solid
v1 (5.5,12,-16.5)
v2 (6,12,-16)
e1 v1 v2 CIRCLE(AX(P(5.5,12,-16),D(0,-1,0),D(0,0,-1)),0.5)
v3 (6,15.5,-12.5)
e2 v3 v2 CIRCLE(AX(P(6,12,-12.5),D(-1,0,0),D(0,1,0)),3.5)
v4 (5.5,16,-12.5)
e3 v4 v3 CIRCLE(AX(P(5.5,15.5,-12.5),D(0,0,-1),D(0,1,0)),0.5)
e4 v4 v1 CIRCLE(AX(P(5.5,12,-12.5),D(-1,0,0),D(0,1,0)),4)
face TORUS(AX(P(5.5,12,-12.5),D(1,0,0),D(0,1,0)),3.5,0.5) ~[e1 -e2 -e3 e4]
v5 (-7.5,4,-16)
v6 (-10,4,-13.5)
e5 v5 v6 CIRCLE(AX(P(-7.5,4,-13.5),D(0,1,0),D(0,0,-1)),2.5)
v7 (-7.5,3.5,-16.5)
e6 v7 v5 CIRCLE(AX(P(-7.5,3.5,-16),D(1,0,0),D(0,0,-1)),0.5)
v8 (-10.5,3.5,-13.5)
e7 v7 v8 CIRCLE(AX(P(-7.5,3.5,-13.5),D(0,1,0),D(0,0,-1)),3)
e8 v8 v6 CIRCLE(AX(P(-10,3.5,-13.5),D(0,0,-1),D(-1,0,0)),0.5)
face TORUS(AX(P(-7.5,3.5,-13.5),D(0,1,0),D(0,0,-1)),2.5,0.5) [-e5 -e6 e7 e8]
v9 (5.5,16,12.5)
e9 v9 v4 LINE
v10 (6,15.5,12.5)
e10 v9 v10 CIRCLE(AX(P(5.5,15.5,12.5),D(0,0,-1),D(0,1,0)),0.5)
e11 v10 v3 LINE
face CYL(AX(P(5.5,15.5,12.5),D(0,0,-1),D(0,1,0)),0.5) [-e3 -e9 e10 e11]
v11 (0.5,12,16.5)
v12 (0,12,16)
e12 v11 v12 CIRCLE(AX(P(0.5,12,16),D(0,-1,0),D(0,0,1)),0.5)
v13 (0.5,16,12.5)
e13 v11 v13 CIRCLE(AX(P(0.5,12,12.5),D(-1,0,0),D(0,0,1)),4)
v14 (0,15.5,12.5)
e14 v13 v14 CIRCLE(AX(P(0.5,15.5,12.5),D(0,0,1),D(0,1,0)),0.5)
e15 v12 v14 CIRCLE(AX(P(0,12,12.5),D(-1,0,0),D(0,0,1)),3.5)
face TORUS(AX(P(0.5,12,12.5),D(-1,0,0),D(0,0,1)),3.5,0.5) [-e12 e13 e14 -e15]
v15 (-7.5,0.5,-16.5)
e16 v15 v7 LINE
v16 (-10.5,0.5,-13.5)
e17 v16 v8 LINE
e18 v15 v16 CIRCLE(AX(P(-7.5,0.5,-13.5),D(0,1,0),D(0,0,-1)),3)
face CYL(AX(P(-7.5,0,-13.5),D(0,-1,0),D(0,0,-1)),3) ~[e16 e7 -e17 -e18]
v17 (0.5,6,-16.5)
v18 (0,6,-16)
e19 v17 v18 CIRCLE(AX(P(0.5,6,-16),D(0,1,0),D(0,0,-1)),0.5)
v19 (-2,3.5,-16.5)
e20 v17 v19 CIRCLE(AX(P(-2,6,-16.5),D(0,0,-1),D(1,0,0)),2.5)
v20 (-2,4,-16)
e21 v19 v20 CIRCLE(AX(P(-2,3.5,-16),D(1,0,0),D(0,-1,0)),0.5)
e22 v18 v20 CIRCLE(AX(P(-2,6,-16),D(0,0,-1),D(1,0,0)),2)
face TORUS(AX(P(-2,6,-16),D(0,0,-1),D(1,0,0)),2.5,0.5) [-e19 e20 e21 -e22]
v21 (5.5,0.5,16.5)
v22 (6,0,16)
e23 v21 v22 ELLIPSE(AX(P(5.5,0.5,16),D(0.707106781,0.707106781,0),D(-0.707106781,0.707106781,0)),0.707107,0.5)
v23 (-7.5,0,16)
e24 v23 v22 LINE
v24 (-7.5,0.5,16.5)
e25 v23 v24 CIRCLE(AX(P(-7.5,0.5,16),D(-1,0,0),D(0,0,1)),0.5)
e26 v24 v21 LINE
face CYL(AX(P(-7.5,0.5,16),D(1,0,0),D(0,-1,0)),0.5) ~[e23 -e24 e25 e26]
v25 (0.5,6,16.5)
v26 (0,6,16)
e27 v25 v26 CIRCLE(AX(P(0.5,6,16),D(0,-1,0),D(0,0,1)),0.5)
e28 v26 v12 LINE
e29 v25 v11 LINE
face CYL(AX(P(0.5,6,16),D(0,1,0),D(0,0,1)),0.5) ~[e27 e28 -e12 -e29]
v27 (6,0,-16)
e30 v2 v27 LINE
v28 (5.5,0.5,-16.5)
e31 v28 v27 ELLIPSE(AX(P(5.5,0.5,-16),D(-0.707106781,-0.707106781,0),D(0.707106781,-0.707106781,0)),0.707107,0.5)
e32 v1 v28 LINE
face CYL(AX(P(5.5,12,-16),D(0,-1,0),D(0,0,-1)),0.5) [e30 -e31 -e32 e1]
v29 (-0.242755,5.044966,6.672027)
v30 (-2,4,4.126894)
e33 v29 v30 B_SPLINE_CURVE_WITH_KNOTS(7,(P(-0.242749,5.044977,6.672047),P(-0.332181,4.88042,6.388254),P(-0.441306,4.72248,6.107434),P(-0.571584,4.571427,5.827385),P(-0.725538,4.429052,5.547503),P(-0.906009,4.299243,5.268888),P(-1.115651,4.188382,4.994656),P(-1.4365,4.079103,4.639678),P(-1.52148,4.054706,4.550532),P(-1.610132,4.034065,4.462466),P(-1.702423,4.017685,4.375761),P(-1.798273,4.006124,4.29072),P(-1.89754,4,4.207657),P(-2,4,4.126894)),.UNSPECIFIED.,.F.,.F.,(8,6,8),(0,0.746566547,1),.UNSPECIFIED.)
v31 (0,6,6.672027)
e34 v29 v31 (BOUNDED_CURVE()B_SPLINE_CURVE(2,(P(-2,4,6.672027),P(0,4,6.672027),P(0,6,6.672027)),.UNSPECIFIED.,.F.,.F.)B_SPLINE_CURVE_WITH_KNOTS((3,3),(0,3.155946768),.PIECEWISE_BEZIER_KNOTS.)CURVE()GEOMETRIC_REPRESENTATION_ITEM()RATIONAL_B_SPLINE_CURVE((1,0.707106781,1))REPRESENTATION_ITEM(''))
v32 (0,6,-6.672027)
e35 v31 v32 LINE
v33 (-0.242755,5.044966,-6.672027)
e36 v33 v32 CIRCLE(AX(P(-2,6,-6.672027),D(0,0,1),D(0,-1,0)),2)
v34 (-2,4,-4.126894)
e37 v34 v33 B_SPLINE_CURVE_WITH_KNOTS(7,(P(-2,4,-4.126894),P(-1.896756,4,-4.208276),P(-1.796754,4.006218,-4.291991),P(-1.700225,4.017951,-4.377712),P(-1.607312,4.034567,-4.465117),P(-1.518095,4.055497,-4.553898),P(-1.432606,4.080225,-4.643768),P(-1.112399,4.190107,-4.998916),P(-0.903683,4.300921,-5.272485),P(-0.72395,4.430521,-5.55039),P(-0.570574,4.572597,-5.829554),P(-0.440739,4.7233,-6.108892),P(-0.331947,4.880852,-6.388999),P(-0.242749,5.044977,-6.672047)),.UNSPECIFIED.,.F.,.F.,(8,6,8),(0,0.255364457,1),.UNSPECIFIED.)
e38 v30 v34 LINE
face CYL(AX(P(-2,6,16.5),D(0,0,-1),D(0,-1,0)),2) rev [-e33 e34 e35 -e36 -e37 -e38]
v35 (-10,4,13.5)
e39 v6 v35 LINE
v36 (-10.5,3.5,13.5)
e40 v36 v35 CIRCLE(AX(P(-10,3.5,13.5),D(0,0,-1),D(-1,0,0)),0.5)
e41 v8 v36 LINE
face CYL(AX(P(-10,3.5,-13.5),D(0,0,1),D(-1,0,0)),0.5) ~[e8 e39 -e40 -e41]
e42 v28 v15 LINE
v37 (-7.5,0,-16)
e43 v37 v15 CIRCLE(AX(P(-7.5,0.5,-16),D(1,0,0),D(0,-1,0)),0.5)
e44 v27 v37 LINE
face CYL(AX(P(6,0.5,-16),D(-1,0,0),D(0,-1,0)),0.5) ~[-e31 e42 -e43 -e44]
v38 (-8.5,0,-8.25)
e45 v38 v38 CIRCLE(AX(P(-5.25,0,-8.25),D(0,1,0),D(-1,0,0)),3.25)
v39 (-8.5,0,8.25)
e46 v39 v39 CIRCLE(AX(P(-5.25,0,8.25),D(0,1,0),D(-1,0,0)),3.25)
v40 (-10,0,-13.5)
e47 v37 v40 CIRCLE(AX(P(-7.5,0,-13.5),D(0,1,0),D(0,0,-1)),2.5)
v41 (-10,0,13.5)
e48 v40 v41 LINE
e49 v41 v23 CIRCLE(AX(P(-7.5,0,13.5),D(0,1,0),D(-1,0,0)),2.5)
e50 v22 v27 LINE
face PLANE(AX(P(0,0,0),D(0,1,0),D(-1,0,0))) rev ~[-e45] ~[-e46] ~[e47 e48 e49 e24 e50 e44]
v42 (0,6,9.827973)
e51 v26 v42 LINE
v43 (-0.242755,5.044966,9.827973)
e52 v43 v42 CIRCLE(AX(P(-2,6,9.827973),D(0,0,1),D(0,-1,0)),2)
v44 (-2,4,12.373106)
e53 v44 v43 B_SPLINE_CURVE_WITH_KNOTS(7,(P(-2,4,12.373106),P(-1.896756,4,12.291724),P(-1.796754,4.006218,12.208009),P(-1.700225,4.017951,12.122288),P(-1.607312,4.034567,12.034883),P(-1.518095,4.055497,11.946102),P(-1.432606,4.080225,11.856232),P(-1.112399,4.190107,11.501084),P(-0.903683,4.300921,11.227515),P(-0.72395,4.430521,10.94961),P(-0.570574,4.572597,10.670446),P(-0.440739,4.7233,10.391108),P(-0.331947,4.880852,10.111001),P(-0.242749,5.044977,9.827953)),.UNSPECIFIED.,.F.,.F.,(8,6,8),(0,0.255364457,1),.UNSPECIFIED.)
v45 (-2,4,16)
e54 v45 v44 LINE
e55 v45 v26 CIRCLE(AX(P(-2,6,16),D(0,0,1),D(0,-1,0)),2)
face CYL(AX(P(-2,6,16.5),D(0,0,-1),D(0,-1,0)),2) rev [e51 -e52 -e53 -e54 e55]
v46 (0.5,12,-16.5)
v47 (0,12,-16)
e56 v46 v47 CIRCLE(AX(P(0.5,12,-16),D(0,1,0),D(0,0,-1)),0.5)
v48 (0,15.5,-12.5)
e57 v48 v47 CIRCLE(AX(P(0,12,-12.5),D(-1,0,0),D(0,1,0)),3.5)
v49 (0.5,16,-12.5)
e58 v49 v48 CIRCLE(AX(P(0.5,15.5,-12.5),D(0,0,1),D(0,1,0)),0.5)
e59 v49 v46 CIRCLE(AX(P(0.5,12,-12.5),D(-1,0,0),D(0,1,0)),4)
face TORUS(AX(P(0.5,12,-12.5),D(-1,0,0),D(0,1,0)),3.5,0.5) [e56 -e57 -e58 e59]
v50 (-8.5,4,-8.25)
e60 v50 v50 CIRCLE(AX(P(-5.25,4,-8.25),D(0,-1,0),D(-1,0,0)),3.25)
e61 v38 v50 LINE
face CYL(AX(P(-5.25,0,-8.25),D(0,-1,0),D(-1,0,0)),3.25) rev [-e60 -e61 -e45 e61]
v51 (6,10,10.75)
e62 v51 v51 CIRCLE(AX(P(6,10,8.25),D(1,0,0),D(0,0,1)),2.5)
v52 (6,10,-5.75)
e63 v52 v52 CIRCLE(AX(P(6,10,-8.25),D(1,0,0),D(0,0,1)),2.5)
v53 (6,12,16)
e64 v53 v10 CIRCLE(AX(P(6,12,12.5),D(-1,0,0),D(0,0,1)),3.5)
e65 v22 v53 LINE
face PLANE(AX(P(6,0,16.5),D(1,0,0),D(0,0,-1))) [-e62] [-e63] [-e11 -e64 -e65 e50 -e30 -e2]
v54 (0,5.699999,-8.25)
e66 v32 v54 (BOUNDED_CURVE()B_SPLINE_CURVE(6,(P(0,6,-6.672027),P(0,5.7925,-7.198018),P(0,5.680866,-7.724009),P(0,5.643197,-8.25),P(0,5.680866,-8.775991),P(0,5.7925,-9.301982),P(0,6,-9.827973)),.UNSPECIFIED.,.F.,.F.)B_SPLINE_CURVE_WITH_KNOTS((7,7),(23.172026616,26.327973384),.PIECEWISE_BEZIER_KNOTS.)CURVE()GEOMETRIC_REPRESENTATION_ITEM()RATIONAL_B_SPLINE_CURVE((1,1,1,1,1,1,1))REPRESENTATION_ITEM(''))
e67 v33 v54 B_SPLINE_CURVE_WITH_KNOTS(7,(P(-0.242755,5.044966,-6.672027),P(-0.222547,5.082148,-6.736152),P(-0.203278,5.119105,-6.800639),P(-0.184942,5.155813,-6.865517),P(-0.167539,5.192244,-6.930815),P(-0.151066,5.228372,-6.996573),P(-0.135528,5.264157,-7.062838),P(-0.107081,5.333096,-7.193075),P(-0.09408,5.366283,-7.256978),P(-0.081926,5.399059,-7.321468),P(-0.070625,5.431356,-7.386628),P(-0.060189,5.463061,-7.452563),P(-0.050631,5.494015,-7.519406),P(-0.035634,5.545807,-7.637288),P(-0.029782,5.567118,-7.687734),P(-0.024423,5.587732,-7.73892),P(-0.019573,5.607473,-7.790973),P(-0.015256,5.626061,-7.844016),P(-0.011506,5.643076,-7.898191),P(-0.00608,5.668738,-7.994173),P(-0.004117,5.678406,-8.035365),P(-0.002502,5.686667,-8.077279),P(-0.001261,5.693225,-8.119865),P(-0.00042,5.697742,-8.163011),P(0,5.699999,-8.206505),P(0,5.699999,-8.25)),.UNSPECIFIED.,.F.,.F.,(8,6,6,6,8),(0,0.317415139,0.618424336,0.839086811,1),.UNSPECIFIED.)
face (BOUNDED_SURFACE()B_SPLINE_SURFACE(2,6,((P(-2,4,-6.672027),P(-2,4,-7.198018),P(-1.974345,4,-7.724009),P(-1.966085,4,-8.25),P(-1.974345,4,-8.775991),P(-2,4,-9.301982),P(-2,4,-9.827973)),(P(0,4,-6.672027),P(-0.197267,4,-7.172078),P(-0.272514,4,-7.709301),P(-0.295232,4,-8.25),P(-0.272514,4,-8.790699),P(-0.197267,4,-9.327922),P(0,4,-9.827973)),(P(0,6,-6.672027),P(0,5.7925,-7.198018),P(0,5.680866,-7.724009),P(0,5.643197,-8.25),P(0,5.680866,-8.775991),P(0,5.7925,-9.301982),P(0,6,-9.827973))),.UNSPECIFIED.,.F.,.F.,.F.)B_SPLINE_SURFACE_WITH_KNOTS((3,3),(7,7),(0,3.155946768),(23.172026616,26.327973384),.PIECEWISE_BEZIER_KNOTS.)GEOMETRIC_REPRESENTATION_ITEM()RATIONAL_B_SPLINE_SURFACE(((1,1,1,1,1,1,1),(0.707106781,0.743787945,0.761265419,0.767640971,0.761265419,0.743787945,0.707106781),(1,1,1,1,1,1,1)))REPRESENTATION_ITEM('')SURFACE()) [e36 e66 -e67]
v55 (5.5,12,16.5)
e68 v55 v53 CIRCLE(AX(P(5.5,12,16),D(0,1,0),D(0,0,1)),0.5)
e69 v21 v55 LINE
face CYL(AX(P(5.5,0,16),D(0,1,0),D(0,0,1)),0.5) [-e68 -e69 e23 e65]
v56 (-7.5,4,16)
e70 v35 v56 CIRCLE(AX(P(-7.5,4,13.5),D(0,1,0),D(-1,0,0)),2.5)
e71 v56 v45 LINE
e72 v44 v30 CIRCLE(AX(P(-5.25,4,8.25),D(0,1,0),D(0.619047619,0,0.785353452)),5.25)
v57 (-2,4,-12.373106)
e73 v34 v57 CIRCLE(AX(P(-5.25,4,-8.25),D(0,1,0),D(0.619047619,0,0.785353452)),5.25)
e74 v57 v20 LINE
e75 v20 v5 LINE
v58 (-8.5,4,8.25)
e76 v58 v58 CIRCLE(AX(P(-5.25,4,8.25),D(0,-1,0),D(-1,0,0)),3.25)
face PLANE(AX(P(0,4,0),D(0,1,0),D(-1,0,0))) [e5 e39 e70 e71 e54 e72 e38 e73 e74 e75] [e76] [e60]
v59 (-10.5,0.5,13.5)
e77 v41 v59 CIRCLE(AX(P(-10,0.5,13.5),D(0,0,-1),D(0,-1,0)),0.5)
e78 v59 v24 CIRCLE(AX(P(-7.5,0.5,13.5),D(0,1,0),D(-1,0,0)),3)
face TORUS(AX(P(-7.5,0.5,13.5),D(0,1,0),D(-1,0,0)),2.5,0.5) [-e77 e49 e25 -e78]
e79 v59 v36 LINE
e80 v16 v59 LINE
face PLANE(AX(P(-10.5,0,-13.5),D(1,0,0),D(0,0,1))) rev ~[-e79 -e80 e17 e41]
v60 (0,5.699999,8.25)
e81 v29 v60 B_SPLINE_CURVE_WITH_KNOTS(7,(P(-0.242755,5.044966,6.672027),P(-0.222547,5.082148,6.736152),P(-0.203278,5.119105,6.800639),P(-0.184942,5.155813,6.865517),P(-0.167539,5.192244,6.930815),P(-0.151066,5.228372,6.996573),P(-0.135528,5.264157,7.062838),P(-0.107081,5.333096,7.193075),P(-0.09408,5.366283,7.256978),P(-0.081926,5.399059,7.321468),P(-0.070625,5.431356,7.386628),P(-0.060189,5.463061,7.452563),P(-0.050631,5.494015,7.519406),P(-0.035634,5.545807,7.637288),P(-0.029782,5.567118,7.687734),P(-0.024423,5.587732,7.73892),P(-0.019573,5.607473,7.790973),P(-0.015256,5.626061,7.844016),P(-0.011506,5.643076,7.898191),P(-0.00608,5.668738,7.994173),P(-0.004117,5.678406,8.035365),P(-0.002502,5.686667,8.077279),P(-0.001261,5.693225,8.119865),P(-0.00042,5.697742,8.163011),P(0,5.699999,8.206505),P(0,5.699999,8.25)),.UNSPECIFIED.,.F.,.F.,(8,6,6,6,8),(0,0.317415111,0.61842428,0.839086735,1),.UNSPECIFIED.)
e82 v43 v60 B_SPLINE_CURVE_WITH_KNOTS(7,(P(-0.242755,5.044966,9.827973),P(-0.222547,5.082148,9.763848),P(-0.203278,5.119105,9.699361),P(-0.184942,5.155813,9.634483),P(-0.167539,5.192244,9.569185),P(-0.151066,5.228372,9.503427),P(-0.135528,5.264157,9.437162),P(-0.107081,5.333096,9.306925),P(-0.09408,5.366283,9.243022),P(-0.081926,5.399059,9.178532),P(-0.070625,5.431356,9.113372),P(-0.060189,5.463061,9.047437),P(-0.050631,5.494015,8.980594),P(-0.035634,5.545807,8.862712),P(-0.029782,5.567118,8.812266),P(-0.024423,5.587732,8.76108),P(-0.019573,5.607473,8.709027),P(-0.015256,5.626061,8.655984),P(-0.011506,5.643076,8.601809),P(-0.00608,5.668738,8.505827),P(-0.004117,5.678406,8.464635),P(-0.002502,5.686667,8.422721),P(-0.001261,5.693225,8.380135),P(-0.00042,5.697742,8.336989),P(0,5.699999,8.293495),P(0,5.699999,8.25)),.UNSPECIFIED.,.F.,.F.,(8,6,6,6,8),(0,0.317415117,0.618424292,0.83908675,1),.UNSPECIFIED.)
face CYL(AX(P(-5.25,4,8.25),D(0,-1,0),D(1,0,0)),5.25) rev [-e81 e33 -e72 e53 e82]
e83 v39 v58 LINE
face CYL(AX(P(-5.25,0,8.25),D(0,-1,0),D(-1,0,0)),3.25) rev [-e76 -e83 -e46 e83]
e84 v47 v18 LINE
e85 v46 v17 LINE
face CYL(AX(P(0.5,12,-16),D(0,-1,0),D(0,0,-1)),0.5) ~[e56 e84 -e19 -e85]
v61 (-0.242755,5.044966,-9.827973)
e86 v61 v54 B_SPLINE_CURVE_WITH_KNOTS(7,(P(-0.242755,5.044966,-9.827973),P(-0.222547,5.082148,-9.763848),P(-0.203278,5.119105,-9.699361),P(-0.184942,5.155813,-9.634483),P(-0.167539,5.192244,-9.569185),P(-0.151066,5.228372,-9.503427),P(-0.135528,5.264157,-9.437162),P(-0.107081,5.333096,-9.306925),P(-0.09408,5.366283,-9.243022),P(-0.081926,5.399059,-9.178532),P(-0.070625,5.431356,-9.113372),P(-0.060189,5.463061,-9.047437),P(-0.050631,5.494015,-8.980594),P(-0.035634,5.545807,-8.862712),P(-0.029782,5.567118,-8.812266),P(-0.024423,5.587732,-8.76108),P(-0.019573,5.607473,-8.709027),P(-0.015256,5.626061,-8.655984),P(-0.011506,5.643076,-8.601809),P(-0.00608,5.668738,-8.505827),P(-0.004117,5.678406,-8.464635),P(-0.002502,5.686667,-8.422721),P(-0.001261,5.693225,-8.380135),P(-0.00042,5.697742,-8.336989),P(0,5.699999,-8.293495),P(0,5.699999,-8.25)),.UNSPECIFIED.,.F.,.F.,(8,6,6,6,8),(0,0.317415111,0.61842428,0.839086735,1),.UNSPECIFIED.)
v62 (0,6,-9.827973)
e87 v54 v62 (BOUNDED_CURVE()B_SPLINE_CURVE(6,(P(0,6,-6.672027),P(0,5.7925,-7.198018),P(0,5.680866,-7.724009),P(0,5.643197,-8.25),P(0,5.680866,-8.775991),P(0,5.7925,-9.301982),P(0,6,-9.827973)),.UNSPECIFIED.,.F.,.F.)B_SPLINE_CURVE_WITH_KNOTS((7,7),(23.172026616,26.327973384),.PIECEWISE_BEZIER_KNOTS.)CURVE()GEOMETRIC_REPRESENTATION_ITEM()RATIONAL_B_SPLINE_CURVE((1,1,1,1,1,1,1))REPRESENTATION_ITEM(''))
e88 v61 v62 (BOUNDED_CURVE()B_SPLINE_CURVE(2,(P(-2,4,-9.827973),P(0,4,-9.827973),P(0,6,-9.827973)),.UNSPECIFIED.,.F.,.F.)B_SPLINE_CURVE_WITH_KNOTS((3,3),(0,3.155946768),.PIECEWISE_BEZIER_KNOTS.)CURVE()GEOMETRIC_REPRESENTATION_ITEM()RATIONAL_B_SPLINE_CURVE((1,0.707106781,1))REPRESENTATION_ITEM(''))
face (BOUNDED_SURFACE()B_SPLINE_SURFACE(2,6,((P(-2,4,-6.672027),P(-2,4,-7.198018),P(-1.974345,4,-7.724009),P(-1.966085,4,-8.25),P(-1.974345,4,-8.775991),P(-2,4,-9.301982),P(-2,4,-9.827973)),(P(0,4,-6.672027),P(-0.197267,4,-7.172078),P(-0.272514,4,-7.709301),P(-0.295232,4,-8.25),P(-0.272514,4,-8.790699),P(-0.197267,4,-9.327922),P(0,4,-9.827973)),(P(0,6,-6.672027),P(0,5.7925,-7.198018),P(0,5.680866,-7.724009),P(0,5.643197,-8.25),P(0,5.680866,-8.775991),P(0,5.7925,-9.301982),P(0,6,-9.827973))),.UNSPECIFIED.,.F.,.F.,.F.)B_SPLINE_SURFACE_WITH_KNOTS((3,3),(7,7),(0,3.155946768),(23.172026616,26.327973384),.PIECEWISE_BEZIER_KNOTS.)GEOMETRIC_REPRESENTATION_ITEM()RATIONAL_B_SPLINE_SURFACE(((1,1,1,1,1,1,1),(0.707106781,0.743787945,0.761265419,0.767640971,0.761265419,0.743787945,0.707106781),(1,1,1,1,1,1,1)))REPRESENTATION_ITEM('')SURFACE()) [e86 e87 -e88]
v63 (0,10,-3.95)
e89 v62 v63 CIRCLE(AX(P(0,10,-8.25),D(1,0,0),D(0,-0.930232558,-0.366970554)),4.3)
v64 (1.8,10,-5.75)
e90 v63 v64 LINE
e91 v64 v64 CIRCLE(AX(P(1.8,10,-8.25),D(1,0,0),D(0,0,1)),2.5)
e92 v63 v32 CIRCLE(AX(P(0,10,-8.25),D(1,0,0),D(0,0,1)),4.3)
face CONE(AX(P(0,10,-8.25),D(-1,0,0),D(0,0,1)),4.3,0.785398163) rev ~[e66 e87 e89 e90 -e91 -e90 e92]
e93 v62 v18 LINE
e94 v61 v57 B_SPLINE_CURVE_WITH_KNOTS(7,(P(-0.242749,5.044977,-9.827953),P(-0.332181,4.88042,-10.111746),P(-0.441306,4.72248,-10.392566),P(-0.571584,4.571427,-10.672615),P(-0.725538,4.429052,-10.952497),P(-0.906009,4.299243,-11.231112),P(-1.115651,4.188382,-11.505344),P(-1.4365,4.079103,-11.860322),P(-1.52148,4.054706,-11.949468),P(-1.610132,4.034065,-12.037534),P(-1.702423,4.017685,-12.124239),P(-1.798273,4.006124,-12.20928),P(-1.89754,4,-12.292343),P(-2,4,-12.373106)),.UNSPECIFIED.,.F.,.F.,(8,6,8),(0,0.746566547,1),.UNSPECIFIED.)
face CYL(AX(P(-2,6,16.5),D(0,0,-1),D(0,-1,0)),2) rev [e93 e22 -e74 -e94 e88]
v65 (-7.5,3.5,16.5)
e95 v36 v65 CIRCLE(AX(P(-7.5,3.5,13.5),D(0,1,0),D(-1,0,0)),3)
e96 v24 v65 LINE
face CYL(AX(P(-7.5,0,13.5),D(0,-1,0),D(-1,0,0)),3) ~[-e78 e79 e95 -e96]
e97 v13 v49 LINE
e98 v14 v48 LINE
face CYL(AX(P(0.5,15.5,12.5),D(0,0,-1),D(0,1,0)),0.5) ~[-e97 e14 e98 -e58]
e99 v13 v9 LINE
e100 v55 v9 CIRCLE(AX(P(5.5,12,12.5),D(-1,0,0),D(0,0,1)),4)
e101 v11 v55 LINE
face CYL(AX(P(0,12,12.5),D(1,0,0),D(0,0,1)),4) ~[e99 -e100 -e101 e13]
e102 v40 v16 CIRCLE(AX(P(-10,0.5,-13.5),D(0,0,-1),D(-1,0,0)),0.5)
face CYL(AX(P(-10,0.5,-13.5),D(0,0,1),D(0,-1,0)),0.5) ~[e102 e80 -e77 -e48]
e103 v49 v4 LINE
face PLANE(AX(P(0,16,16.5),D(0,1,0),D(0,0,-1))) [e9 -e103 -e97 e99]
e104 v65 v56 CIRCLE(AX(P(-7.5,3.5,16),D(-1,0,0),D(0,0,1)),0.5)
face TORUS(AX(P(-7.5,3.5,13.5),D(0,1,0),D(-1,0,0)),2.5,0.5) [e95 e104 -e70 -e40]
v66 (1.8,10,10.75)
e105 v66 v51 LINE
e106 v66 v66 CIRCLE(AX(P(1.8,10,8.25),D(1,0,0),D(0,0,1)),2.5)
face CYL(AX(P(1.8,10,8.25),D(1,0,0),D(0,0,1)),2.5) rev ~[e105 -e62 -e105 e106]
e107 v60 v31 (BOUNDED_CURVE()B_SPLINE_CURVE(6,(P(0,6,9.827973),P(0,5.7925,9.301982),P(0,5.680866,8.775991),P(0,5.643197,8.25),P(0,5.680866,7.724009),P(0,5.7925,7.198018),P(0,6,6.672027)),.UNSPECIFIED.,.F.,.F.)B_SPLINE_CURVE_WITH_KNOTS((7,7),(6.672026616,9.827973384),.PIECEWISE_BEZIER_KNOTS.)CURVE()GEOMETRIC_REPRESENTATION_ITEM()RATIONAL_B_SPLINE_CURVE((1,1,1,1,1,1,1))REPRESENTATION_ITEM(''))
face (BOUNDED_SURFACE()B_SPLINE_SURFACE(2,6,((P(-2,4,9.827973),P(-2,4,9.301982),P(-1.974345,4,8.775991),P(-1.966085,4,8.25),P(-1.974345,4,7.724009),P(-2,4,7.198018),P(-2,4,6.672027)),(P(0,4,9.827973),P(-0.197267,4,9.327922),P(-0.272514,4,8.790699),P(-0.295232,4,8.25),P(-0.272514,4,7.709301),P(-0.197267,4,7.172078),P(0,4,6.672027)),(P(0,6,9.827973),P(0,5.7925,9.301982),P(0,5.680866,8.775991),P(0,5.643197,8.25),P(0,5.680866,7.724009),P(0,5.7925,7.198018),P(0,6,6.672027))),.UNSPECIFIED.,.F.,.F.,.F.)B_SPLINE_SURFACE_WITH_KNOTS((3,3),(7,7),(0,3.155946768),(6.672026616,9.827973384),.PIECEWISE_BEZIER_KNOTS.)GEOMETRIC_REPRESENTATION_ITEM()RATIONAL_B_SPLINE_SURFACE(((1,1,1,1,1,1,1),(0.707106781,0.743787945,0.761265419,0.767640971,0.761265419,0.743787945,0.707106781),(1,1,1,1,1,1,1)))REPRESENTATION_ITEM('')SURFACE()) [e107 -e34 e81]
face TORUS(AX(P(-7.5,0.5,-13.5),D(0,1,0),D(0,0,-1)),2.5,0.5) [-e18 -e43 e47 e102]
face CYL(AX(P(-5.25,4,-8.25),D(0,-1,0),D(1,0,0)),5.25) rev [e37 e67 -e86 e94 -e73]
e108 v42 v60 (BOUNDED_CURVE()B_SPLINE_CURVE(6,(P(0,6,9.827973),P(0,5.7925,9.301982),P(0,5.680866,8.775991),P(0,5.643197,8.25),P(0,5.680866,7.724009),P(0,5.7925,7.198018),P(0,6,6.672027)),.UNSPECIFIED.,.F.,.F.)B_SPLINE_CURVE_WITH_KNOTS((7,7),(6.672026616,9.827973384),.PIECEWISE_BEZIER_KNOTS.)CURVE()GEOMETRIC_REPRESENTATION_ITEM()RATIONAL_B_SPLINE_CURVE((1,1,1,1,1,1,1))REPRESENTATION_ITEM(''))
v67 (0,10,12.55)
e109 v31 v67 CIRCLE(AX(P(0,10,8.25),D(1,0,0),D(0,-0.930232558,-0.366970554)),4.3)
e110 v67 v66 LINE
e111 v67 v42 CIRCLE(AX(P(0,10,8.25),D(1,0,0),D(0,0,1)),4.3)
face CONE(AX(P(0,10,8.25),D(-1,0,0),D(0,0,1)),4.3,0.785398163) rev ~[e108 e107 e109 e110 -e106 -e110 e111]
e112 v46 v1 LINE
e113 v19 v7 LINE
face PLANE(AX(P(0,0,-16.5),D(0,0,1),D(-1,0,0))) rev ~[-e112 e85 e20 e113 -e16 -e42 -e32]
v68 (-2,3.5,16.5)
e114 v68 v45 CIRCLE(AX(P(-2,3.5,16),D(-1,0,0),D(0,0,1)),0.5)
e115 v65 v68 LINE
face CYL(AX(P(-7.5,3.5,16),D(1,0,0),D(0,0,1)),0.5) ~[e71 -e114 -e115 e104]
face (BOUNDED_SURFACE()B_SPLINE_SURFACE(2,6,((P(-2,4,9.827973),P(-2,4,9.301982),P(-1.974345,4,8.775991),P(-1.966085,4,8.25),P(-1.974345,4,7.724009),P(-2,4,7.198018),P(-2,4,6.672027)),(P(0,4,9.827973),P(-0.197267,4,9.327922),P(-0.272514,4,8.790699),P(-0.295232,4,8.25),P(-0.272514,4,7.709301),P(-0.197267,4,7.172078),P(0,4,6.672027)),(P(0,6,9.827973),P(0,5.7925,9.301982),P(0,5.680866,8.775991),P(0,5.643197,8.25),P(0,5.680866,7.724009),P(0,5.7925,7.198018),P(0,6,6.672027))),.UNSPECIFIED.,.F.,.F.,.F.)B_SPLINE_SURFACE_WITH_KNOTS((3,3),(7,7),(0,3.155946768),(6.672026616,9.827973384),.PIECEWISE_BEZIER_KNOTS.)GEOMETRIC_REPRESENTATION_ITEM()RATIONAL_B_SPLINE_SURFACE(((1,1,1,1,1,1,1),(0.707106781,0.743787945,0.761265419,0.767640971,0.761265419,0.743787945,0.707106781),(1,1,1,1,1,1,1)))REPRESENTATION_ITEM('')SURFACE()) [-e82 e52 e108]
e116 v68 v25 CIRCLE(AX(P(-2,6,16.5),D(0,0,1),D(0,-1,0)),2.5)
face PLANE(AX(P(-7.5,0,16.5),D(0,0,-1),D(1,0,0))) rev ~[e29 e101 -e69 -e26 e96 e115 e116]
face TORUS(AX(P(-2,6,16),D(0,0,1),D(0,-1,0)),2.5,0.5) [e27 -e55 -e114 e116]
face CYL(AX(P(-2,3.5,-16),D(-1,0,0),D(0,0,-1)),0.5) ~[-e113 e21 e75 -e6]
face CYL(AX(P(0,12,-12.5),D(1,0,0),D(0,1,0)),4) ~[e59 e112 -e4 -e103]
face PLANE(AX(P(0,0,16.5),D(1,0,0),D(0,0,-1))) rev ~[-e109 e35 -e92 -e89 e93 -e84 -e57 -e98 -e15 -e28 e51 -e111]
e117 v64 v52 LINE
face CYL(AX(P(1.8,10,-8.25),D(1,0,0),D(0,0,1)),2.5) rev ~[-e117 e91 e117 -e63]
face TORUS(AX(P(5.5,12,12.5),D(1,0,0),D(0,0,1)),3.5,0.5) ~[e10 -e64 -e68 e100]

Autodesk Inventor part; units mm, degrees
ref_plane "YZ Plane" through (0, 0, 0) normal (1, 0, 0) x (0, 1, 0)
ref_plane "XZ Plane" through (0, 0, 0) normal (0, 1, 0) x (-1, 0, 0)
ref_plane "XY Plane" through (0, 0, 0) normal (0, 0, 1) x (1, 0, 0)
sketch "Skizze1" plane through (0, 0, 0) normal (0, 1, 0) x (-1, 0, 0)
  line L0 (7.5, 16.5) -> (0, 16.5)
  line L1 (0, 16.5) -> (0, -16.5)
  line L2 (0, -16.5) -> (7.5, -16.5)
  line L3 (10.5, -13.5) -> (10.5, 13.5)
  circle A0 centre (5.25, 8.25) radius 3.25
  line L4 (10.5, 0) -> (0, 0) construction
  circle A1 centre (5.25, -8.25) radius 3.25
  arc A2 (10.5, 13.5) -> (7.5, 16.5) centre (7.5, 13.5) ccw
  arc A3 (7.5, -16.5) -> (10.5, -13.5) centre (7.5, -13.5) ccw
  point P0 (5.25, 0)
  dimension "d0" = 2
  dimension "d1" = 6.5
  dimension "d2" = 5
  dimension "d3" = 10
  dimension "d4" = 3
extrude "Extrusion1" add sketch "Skizze1" along normal blind 4
sketch "Skizze3" plane through (0, 0, 16.5) normal (1, 0, 0) x (0, 0, -1)
  line L0 (0, 0) -> (33, 0) projected
  line L1 (33, 0) -> (0, 0)
  line L2 (0, 0) -> (0, 16)
  line L3 (0, 16) -> (33, 16)
  line L4 (33, 16) -> (33, 0)
  point P0 (16.5, 0)
  point P1 (33, 4)
  dimension "d21" = 12
extrude "Extrusion2" add sketch "Skizze3" along normal blind 6
sketch "Skizze4" plane through (0, 0, 16.5) normal (-1, 0, 0) x (0, 0, 1)
  point P0 (-16.5, 0)
sketch "Skizze5" plane through (0, 0, 16.5) normal (-1, 0, 0) x (0, 0, 1)
  line L0 (0, 4) -> (-33, 4) projected
  line L1 (0, 16) -> (0, 4) projected
  line L2 (-33, 16) -> (0, 16) projected
  line L3 (-33, 4) -> (-33, 16) projected
  line L4 (-33, 16) -> (0, 16) construction
  line L5 (-16.5, 16) -> (-16.5, 4) construction
  line L6 (-30, 4) -> (-3, 4) construction
  line L7 (-16.5, 10) -> (-33, 10) construction
  line L8 (-33, 0) -> (-33, 16) construction
  point P0 (-16.5, 0)
  point P1 (-24.75, 10)
  point P2 (-8.25, 10)
  point P3 (-24.75, 10)
hole "Bohrung1" at (0, 10, 8.25) at (0, 10, -8.25) direction (1, 0, 0) diameter 5 end through all countersink diameter 8.6 countersink angle 90
fillet "Rundung1" radius 2 1 edges at (0, 4, 0)
fillet "Rundung2" radius 4 2 edges at (3, 16, 16.5) (3, 16, -16.5)
fillet "Rundung3" radius 0.5 22 edges at (6, 14.8284, 15.3284) (6, 16, 0) (6, 14.8284, -15.3284) (6, 6, -16.5) (6, 6, 16.5) (-9.6213, 0, 15.6213) (-10.5, 0, 0) (-9.6213, 0, -15.6213) (-0.75, 0, -16.5) (-0.75, 0, 16.5) (0, 9, 16.5) (-0.5858, 4.5858, 16.5) (-4.75, 4, 16.5) (-9.6213, 4, 15.6213) (-10.5, 4, 0) (-9.6213, 4, -15.6213) (-4.75, 4, -16.5) (-0.5858, 4.5858, -16.5) (0, 9, -16.5) (0, 14.8284, -15.3284) (0, 16, 0) (0, 14.8284, 15.3284)
sketch "Skizze7" plane through (0, 4, 0) normal (0, 1, 0) x (1, 0, 0)
  circle A0 centre (-5.25, -8.25) radius 3.25 projected
  circle A1 centre (-5.25, 8.25) radius 3.25 projected
  circle A2 centre (-5.25, -8.25) radius 5.25
  circle A3 centre (-5.25, 8.25) radius 5.25
  point P0 (0, 0)
  point P1 (-2, -8.25)
  point P2 (-2, 8.25)
  dimension "d32" = 2
extrude "Extrusion3" cut sketch "Skizze7" along normal up to surface (12 mm away)
properties part number "Wlan-antennen-halter"
